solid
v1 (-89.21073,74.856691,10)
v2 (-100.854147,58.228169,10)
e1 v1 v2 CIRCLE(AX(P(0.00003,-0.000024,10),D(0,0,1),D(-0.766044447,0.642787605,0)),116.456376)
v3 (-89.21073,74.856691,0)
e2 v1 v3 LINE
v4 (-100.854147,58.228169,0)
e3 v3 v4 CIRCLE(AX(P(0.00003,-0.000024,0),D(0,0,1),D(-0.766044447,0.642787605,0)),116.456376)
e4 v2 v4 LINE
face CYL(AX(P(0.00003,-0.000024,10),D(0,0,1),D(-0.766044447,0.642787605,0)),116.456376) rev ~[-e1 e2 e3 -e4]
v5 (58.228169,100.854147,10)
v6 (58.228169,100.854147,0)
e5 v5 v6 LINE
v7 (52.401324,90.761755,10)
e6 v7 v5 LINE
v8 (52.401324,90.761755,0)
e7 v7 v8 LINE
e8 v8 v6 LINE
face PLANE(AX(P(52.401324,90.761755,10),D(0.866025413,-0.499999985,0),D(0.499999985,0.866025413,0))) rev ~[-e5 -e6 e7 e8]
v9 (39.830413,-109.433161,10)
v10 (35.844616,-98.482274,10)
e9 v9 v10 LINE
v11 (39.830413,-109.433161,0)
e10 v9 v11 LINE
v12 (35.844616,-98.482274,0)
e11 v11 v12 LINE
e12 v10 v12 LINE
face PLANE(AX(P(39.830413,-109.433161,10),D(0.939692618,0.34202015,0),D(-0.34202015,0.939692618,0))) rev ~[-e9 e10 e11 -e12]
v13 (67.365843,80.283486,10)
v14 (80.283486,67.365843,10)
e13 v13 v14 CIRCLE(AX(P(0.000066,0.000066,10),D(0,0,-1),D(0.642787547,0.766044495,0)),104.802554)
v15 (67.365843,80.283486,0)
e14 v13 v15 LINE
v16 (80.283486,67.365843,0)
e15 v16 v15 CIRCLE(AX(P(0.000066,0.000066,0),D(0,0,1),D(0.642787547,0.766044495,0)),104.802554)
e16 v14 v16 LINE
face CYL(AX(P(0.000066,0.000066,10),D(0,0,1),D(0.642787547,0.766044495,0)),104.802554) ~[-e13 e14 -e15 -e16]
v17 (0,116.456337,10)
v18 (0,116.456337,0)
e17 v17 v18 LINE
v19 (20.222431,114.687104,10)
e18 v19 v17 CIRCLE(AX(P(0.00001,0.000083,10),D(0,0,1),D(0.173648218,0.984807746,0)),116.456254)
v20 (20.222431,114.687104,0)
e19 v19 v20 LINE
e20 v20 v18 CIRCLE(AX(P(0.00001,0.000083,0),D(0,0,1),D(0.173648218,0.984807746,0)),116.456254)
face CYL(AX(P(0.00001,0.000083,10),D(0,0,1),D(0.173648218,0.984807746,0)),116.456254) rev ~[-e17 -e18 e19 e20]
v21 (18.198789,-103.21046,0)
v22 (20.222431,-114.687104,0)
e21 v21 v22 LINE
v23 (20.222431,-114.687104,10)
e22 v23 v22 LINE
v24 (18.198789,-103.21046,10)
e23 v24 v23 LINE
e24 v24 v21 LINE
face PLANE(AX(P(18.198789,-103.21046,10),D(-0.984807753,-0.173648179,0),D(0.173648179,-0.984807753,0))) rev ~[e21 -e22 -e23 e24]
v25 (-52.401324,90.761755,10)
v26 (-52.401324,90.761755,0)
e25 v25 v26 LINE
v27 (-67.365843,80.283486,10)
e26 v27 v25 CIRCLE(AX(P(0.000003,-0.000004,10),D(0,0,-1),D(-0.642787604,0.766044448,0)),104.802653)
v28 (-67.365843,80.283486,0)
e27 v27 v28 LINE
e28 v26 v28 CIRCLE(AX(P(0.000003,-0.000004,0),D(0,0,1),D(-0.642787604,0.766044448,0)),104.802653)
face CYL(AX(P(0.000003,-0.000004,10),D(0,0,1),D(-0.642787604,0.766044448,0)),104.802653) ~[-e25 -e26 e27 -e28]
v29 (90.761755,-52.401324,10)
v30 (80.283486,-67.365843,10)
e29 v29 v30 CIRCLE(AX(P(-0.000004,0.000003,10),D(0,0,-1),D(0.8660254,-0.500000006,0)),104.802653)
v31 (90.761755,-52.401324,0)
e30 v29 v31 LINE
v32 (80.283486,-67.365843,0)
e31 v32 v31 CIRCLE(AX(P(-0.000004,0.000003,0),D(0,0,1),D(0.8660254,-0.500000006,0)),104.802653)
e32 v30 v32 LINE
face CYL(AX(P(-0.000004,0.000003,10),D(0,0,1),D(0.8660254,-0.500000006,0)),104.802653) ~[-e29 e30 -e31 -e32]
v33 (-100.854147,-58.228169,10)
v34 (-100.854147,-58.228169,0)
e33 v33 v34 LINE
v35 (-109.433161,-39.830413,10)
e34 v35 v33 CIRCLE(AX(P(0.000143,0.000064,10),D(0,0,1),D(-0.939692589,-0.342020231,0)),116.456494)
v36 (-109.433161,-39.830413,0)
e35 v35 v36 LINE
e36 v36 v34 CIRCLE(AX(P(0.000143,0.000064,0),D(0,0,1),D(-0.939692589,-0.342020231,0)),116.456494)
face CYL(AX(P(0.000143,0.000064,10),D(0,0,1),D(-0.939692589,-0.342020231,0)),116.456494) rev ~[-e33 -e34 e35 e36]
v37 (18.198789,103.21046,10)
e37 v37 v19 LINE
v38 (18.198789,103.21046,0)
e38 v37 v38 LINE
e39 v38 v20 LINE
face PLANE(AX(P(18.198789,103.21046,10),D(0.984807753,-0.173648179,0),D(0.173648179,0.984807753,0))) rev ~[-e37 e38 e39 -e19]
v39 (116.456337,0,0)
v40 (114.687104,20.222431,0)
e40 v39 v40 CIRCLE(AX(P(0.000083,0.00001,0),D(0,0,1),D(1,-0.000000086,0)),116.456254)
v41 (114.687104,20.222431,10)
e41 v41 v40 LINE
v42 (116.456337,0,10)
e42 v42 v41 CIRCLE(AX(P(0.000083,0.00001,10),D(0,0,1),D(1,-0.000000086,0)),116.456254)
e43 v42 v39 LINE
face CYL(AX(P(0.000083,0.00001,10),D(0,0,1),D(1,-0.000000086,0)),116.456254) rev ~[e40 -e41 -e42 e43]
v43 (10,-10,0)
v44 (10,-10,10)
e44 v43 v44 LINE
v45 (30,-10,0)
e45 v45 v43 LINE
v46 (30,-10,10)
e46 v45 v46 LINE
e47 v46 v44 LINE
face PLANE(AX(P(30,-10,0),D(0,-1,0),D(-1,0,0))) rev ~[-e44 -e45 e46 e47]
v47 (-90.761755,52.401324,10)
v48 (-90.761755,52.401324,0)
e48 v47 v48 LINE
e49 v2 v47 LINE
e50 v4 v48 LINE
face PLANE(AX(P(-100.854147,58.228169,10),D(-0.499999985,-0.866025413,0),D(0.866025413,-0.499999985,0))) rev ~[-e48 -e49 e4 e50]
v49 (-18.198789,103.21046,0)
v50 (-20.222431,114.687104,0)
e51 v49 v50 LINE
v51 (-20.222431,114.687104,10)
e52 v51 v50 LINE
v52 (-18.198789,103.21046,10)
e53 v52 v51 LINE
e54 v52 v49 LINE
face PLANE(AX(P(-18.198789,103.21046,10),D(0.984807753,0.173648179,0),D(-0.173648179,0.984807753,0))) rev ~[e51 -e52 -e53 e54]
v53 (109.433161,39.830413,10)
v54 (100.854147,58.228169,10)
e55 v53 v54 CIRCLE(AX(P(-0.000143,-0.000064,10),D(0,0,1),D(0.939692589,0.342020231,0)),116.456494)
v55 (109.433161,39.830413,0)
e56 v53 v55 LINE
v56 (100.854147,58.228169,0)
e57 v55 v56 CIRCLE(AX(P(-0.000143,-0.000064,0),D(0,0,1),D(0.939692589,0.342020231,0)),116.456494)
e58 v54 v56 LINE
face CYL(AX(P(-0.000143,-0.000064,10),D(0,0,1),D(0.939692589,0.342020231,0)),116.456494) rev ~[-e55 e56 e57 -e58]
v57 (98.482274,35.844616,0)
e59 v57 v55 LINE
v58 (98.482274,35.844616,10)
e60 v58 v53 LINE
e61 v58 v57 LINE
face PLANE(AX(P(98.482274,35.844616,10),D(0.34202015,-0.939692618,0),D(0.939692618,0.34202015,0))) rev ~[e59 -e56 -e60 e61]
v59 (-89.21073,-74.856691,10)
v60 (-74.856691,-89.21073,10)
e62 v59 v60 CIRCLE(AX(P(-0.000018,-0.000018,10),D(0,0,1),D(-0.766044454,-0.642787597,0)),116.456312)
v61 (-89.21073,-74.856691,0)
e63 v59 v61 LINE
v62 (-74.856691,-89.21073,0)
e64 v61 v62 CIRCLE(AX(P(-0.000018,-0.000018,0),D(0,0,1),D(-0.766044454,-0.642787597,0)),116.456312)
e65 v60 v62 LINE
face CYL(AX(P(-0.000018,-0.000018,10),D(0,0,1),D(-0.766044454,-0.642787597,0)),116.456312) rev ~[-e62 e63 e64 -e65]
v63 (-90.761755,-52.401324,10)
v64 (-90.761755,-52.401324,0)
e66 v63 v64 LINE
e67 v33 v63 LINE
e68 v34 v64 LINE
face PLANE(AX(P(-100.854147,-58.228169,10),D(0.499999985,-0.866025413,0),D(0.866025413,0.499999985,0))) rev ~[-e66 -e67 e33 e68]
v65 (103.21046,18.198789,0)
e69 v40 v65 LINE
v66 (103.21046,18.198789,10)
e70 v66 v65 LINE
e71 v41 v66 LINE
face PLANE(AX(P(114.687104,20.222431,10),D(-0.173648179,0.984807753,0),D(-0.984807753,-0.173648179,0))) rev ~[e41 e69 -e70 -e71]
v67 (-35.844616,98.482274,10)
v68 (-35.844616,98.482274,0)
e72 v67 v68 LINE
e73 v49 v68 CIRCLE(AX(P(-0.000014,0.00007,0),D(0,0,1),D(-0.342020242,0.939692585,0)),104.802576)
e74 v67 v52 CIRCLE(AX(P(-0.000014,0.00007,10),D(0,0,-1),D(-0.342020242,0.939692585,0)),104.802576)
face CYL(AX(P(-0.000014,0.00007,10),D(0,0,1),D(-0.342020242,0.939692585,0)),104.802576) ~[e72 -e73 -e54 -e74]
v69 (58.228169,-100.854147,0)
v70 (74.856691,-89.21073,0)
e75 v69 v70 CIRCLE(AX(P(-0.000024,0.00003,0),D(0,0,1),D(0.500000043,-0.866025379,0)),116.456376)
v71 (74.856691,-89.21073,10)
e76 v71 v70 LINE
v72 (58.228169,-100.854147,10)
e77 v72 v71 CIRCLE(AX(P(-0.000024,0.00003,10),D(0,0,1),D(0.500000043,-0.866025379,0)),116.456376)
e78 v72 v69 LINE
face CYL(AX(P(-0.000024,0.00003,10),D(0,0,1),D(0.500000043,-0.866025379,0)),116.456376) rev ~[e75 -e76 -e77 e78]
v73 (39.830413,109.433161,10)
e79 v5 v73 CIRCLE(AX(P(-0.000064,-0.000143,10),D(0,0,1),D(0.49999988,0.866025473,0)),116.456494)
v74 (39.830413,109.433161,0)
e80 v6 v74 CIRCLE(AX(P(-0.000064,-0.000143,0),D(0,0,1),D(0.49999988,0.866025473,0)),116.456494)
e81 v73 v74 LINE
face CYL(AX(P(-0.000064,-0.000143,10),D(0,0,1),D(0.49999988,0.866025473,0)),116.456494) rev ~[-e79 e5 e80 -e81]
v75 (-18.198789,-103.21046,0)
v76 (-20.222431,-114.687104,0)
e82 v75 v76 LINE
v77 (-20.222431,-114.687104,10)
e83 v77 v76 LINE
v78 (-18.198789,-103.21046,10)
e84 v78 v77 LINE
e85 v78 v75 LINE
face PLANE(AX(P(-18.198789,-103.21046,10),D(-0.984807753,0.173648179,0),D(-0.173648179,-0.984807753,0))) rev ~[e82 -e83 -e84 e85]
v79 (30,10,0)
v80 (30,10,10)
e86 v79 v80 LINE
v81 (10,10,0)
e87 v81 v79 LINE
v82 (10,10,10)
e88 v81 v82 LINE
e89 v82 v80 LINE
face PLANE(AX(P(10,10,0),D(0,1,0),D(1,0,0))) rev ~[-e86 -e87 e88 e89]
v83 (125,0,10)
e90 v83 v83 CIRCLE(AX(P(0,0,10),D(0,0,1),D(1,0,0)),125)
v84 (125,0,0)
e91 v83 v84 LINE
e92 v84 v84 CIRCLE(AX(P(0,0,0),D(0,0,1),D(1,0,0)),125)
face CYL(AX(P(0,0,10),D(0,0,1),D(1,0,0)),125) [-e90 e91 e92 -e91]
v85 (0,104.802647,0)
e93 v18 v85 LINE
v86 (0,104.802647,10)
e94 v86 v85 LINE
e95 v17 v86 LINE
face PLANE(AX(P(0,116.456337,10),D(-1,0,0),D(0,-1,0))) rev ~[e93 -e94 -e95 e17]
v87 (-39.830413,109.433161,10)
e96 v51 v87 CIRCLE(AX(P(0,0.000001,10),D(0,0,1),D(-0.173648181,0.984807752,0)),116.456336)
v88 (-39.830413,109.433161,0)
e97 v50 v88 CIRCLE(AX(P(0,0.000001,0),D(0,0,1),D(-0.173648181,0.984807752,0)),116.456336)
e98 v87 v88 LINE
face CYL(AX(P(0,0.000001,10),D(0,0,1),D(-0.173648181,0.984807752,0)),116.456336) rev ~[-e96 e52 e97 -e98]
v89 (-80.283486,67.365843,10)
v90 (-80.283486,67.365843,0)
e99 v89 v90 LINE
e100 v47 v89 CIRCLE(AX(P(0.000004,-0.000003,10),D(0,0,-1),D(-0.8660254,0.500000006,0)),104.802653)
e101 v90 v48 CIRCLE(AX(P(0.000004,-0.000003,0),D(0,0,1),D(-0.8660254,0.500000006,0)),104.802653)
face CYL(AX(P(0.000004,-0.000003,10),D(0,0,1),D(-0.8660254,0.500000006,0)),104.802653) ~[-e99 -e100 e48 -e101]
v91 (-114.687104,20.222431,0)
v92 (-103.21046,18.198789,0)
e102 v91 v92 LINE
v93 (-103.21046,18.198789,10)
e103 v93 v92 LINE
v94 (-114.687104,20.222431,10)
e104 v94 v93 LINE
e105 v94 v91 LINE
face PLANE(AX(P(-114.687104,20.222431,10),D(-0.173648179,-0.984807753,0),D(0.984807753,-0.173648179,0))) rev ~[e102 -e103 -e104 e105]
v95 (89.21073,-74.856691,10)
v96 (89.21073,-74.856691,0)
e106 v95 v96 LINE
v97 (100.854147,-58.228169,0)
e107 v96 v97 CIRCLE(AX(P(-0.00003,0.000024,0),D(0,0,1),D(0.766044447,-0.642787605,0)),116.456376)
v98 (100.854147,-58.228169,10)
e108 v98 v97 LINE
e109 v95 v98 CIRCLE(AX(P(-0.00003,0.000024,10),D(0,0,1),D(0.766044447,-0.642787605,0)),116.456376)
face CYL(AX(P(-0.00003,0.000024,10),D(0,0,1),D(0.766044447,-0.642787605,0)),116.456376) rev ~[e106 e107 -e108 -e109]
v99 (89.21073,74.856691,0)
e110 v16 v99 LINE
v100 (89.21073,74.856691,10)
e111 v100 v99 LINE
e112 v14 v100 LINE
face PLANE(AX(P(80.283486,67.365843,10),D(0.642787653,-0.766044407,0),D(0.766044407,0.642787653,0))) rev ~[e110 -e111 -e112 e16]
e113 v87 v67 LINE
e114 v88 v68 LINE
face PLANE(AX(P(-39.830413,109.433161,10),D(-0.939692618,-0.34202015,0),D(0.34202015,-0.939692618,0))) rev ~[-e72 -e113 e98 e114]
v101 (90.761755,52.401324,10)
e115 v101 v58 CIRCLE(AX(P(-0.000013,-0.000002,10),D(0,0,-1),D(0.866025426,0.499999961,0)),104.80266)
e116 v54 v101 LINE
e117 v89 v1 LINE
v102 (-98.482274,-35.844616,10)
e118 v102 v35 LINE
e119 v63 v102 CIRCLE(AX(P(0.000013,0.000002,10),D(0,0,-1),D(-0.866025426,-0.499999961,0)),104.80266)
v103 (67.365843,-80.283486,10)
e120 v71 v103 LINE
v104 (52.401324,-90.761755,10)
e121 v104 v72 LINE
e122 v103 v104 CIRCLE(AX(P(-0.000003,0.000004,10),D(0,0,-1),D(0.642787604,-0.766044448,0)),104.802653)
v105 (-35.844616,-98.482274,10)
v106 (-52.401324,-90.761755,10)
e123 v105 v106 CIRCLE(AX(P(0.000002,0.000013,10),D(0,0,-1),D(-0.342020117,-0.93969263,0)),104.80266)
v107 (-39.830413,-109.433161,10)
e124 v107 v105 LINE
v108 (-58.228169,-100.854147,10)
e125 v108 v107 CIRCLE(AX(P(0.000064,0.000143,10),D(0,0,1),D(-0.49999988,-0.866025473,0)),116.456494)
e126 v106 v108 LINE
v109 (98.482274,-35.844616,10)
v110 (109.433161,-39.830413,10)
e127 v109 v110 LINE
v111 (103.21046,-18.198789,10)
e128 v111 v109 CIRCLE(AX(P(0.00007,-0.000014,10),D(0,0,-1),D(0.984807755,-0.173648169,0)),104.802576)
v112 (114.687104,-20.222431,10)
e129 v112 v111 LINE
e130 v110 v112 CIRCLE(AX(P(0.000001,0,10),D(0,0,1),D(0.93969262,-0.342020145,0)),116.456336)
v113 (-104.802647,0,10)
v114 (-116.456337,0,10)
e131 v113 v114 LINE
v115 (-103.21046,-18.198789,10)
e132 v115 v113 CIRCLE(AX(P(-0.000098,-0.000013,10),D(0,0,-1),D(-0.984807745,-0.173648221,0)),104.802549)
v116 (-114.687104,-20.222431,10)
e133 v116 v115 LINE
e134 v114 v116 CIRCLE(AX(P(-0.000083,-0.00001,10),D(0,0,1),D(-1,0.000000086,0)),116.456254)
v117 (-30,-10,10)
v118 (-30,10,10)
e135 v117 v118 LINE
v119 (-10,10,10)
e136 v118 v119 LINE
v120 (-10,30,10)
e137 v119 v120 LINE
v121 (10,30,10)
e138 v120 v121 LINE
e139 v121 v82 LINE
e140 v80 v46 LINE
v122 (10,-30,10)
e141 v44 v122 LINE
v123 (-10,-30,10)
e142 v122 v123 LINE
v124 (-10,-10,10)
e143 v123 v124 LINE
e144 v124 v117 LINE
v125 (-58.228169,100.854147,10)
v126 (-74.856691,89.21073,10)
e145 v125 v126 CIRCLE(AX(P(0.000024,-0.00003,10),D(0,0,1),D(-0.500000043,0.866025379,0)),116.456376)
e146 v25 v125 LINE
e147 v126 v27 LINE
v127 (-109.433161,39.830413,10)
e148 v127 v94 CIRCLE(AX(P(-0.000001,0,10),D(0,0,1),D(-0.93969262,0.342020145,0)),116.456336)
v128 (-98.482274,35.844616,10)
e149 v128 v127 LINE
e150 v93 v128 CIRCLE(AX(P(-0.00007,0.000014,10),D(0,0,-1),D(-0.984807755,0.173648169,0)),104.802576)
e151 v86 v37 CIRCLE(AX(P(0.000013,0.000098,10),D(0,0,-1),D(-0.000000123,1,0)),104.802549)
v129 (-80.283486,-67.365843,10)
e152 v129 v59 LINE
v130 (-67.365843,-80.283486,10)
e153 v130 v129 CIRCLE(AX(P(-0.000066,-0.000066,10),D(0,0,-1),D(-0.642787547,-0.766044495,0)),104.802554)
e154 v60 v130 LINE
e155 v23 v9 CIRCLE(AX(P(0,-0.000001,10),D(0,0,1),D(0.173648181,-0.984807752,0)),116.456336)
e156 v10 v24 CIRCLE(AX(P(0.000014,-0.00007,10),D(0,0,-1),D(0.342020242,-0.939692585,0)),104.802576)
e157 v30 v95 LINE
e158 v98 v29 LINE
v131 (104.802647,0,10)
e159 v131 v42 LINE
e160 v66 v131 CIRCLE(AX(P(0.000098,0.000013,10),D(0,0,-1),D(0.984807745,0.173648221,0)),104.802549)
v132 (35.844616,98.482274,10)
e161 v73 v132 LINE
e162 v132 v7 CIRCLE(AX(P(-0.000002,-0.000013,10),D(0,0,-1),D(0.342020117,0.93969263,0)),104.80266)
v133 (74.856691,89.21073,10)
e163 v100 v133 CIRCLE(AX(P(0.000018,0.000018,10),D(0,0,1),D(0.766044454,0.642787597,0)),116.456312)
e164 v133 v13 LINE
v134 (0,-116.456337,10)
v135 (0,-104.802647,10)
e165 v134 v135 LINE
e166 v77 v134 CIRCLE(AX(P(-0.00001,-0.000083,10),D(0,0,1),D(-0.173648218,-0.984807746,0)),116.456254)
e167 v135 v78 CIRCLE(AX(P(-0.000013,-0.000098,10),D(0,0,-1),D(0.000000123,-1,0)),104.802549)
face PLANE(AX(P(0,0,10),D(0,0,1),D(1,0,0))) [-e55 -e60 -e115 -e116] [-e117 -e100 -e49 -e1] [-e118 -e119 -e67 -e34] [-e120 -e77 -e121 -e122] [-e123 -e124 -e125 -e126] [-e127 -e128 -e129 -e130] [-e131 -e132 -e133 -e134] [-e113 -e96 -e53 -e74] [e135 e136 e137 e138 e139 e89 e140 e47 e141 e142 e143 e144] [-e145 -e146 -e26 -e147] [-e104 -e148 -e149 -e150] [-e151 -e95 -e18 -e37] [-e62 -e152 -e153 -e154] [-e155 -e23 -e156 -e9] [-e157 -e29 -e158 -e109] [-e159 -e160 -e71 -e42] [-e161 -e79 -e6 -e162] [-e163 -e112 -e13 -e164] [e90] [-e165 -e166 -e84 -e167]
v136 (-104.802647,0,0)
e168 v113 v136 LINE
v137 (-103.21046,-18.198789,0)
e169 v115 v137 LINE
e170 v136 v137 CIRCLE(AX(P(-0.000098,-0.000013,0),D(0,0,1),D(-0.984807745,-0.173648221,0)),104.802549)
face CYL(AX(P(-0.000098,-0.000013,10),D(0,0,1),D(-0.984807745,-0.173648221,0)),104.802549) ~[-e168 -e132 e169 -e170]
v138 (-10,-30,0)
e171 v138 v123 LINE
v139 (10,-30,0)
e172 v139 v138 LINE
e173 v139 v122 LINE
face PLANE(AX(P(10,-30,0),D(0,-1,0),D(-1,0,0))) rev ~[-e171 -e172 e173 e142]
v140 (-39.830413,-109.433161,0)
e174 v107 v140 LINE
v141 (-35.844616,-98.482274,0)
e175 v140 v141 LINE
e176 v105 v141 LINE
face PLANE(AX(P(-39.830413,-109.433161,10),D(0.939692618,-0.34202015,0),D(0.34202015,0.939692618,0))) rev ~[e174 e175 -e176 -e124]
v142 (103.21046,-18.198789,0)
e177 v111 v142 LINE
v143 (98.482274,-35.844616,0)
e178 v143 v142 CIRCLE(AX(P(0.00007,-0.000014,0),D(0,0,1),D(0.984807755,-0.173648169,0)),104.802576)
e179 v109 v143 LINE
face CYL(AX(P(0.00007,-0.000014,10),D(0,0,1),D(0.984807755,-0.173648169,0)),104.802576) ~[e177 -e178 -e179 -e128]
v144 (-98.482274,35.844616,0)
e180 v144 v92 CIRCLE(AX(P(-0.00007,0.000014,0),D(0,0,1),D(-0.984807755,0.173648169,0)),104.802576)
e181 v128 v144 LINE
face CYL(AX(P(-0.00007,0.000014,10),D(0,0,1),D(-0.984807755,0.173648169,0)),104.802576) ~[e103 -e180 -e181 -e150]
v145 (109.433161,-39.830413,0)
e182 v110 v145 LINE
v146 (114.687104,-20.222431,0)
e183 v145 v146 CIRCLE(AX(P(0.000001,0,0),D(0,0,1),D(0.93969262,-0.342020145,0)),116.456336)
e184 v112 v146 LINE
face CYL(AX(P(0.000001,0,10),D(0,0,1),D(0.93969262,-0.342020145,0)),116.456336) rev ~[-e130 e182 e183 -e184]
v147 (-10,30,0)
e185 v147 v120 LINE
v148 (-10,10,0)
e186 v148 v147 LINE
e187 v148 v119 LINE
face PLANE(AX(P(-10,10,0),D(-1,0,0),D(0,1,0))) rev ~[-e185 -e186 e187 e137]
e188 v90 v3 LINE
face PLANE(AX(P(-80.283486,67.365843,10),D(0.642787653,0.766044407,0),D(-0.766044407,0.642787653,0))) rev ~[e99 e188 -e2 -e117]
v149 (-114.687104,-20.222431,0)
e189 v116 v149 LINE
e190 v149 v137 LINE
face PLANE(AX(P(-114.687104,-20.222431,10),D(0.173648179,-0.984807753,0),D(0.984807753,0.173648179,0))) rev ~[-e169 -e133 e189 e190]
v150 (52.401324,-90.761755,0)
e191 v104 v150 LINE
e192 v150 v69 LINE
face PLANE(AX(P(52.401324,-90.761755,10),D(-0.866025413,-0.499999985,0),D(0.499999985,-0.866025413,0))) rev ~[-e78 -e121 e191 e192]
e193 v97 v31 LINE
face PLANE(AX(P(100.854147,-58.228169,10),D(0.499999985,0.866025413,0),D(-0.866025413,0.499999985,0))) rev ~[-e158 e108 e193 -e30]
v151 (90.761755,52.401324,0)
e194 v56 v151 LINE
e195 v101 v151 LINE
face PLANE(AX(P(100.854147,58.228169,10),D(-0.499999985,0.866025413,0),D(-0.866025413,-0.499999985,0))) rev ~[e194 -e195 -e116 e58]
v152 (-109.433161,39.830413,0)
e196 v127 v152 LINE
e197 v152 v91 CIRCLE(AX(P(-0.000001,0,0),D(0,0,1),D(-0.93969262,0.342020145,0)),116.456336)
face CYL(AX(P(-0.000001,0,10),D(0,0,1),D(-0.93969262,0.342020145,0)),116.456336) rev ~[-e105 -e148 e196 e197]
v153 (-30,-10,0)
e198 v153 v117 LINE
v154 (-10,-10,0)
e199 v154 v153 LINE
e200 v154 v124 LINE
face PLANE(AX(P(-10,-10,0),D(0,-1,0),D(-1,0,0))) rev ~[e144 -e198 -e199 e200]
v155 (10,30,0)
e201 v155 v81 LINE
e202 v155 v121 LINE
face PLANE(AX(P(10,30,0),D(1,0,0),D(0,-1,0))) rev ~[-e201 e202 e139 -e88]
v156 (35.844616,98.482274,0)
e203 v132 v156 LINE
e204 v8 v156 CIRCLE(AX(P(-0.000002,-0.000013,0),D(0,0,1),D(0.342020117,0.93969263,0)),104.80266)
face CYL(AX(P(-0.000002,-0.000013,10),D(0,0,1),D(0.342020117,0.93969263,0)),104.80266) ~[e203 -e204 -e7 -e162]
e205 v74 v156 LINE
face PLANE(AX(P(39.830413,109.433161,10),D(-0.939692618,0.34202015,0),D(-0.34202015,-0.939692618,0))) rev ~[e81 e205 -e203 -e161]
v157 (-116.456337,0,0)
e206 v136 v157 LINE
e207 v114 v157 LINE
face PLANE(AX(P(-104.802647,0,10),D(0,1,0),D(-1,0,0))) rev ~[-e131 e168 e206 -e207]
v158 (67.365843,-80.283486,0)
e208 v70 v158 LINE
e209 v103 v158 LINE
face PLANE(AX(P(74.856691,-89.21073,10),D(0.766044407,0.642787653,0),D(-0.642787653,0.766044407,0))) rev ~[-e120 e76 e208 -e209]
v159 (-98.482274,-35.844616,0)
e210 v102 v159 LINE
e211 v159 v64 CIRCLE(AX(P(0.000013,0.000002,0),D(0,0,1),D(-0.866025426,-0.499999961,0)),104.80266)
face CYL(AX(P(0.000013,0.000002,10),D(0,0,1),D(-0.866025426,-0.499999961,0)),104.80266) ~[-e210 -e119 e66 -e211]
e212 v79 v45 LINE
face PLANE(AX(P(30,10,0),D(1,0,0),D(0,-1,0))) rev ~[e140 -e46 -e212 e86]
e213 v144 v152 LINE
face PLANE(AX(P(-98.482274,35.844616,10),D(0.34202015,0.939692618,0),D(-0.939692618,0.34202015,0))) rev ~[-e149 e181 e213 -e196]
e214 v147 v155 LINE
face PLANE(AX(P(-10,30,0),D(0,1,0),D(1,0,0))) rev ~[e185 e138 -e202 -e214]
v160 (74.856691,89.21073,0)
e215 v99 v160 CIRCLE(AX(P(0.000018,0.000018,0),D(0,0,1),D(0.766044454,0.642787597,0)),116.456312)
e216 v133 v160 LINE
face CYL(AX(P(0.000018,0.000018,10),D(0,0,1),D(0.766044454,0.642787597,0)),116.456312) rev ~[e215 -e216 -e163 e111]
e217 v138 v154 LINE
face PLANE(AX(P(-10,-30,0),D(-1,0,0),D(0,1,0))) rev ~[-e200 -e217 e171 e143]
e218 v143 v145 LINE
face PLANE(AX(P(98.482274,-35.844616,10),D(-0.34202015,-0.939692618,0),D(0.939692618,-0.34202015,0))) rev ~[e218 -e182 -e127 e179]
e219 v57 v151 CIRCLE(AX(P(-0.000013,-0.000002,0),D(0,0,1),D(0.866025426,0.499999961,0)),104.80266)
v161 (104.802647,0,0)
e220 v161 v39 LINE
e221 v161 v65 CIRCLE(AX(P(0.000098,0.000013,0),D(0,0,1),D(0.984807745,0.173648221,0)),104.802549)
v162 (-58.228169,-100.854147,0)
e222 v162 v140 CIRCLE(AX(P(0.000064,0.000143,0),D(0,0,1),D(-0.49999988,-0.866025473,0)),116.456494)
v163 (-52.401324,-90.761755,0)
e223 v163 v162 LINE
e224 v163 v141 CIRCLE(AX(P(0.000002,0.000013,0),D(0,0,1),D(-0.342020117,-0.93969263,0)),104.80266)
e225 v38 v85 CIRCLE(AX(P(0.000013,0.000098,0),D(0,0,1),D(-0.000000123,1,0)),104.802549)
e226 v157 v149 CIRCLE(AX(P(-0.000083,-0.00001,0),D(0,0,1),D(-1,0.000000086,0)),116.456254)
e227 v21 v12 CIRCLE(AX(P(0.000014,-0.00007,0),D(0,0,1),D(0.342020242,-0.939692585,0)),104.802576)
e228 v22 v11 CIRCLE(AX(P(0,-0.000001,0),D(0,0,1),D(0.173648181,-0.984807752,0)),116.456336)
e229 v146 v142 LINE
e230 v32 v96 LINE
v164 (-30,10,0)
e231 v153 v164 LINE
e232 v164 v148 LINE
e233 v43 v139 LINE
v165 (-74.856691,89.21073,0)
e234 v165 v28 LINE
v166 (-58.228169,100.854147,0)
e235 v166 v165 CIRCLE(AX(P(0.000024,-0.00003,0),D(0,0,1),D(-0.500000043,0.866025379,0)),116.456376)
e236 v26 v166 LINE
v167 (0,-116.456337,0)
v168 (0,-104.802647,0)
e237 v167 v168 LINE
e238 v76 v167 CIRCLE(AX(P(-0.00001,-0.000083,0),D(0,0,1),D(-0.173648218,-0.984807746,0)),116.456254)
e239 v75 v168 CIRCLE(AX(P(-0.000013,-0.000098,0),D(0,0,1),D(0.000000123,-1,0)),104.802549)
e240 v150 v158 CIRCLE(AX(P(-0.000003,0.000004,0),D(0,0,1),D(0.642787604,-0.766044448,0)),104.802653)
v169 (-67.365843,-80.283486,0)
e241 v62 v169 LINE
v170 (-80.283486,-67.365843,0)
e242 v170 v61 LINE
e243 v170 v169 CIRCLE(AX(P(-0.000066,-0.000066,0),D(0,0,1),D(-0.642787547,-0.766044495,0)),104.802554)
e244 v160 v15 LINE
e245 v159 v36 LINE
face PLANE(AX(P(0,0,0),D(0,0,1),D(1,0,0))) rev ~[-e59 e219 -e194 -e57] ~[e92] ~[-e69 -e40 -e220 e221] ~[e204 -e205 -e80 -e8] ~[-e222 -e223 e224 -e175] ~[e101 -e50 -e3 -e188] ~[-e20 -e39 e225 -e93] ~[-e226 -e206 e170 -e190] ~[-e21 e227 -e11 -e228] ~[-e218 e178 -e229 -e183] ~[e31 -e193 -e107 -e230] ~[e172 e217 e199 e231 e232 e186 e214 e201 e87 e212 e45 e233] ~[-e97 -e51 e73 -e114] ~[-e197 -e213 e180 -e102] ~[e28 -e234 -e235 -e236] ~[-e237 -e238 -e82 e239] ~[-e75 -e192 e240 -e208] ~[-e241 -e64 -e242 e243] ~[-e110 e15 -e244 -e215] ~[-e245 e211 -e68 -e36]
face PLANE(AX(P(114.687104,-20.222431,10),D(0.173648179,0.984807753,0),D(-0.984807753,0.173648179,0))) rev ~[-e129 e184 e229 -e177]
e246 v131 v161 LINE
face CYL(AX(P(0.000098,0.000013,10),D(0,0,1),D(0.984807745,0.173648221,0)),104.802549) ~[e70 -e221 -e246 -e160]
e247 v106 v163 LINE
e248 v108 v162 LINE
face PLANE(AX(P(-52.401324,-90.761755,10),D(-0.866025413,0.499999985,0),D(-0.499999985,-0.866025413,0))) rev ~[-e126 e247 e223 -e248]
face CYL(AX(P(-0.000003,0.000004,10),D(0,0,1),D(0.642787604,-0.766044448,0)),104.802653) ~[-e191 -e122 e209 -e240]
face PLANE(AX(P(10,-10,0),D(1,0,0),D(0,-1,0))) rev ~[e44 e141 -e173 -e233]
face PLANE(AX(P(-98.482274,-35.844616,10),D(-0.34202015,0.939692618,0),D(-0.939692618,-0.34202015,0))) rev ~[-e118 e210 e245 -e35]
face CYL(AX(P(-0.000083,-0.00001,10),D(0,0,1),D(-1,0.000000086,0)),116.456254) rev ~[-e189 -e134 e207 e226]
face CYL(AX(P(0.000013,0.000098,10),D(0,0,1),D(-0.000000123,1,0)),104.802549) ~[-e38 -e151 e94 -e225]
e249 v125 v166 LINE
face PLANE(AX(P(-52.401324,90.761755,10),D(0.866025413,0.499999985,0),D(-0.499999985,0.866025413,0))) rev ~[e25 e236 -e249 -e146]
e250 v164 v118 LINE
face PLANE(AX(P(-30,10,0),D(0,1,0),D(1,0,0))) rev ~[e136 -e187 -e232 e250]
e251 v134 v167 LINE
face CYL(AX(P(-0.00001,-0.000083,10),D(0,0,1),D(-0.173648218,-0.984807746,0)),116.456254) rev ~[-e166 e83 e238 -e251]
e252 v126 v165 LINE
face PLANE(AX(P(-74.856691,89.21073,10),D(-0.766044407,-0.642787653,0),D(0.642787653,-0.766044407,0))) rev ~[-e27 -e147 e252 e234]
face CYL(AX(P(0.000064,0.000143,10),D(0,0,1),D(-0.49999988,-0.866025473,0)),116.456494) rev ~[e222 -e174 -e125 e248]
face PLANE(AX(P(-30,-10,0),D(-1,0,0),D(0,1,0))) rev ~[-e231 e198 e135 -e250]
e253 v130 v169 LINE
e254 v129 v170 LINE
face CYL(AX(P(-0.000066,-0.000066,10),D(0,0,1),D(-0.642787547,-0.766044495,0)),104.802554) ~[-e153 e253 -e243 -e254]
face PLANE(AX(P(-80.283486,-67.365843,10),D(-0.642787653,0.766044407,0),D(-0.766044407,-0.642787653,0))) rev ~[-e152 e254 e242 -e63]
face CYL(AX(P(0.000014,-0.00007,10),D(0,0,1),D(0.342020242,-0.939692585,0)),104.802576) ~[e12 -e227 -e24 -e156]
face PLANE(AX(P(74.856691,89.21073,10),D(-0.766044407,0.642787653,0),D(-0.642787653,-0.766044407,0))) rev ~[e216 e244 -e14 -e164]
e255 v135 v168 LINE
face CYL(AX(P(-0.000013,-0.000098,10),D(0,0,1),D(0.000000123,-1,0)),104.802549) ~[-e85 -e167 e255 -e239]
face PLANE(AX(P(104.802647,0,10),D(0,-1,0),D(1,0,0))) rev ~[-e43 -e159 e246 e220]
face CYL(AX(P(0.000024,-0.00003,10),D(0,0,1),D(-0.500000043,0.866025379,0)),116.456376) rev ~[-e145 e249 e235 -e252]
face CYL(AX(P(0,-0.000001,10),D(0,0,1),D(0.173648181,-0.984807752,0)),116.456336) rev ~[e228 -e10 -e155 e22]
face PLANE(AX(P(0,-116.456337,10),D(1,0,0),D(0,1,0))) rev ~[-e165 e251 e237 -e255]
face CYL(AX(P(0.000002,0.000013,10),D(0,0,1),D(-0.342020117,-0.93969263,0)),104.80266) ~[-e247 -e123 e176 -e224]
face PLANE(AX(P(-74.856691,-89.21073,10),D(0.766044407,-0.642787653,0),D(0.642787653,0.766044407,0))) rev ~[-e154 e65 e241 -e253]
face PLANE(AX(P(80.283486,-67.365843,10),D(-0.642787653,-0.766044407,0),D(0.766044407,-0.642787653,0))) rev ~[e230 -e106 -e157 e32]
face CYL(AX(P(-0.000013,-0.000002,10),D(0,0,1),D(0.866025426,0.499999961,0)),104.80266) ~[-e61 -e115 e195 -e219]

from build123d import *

# Parameters (mm, degrees)
F0_R     = 50
F1_DEPTH = 10
F2_R     = 125
F2_R_2   = 40.44952
F3_DEPTH = 10
F5_DEPTH = 25


with BuildPart() as f1:
    # F0 (on Top) → F1 (new body)
    with BuildSketch(Plane.XY):
        Circle(F0_R)
        Polygon((-10, 30), (0, 30), (10, 30), (10, 10), (30, 10), (30, 0), (30, -10), (10, -10), (10, -30), (0, -30), (-10, -30), (-10, -10), (-30, -10), (-30, 0), (-30, 10), (-10, 10), align=None, mode=Mode.SUBTRACT)
    extrude(amount=F1_DEPTH)

    # F2 (on face) → F3 (join)
    with BuildSketch(Plane.XY.offset(10)):
        Circle(F2_R)
        Circle(F2_R_2, mode=Mode.SUBTRACT)
    extrude(amount=-F3_DEPTH)

    # F4 (on face) → F5 (cut)
    with BuildSketch(Plane.XY.offset(10)):
        with BuildLine():
            Line((0, 116.456337), (0, 104.802647))
            ThreePointArc((0, 104.802647), (9.134153, 104.403842), (18.198789, 103.21046))
            Line((18.198789, 103.21046), (20.222431, 114.687104))
            ThreePointArc((20.222431, 114.687104), (10.149839, 116.013186), (0, 116.456337))
        make_face()
        with BuildLine():
            ThreePointArc((-35.844616, 98.482274), (-27.124921, 101.231584), (-18.198789, 103.21046))
            Line((-18.198789, 103.21046), (-20.222431, 114.687104))
            ThreePointArc((-20.222431, 114.687104), (-30.141118, 112.488184), (-39.830413, 109.433161))
            Line((-39.830413, 109.433161), (-35.844616, 98.482274))
        make_face()
        with BuildLine():
            ThreePointArc((-67.365843, 80.283486), (-60.112329, 85.849303), (-52.401324, 90.761755))
            Line((-52.401324, 90.761755), (-58.228169, 100.854147))
            ThreePointArc((-58.228169, 100.854147), (-66.796611, 95.395447), (-74.856691, 89.21073))
            Line((-74.856691, 89.21073), (-67.365843, 80.283486))
        make_face()
        with BuildLine():
            ThreePointArc((-90.761755, 52.401324), (-85.849303, 60.112329), (-80.283486, 67.365843))
            Line((-80.283486, 67.365843), (-89.21073, 74.856691))
            ThreePointArc((-89.21073, 74.856691), (-95.395447, 66.796611), (-100.854147, 58.228169))
            Line((-100.854147, 58.228169), (-90.761755, 52.401324))
        make_face()
        with BuildLine():
            ThreePointArc((-103.21046, 18.198789), (-101.231584, 27.124921), (-98.482274, 35.844616))
            Line((-98.482274, 35.844616), (-109.433161, 39.830413))
            ThreePointArc((-109.433161, 39.830413), (-112.488184, 30.141118), (-114.687104, 20.222431))
            Line((-114.687104, 20.222431), (-103.21046, 18.198789))
        make_face()
        with BuildLine():
            ThreePointArc((-103.21046, -18.198789), (-104.403842, -9.134153), (-104.802647, 0))
            Line((-104.802647, 0), (-116.456337, 0))
            ThreePointArc((-116.456337, 0), (-116.013186, -10.149839), (-114.687104, -20.222431))
            Line((-114.687104, -20.222431), (-103.21046, -18.198789))
        make_face()
        with BuildLine():
            ThreePointArc((-90.761755, -52.401324), (-94.983455, -44.291513), (-98.482274, -35.844616))
            Line((-98.482274, -35.844616), (-109.433161, -39.830413))
            ThreePointArc((-109.433161, -39.830413), (-105.545285, -49.216575), (-100.854147, -58.228169))
            Line((-100.854147, -58.228169), (-90.761755, -52.401324))
        make_face()
        with BuildLine():
            ThreePointArc((-67.365843, -80.283486), (-74.106663, -74.106663), (-80.283486, -67.365843))
            Line((-80.283486, -67.365843), (-89.21073, -74.856691))
            ThreePointArc((-89.21073, -74.856691), (-82.347066, -82.347066), (-74.856691, -89.21073))
            Line((-74.856691, -89.21073), (-67.365843, -80.283486))
        make_face()
        with BuildLine():
            ThreePointArc((-35.844616, -98.482274), (-44.291513, -94.983455), (-52.401324, -90.761755))
            Line((-52.401324, -90.761755), (-58.228169, -100.854147))
            ThreePointArc((-58.228169, -100.854147), (-49.216575, -105.545285), (-39.830413, -109.433161))
            Line((-39.830413, -109.433161), (-35.844616, -98.482274))
        make_face()
        with BuildLine():
            ThreePointArc((0, -104.802647), (-9.134153, -104.403842), (-18.198789, -103.21046))
            Line((-18.198789, -103.21046), (-20.222431, -114.687104))
            ThreePointArc((-20.222431, -114.687104), (-10.149839, -116.013186), (0, -116.456337))
            Line((0, -116.456337), (0, -104.802647))
        make_face()
        with BuildLine():
            ThreePointArc((35.844616, -98.482274), (27.124921, -101.231584), (18.198789, -103.21046))
            Line((18.198789, -103.21046), (20.222431, -114.687104))
            ThreePointArc((20.222431, -114.687104), (30.141118, -112.488184), (39.830413, -109.433161))
            Line((39.830413, -109.433161), (35.844616, -98.482274))
        make_face()
        with BuildLine():
            ThreePointArc((67.365843, -80.283486), (60.112329, -85.849303), (52.401324, -90.761755))
            Line((52.401324, -90.761755), (58.228169, -100.854147))
            ThreePointArc((58.228169, -100.854147), (66.796611, -95.395447), (74.856691, -89.21073))
            Line((74.856691, -89.21073), (67.365843, -80.283486))
        make_face()
        with BuildLine():
            ThreePointArc((90.761755, -52.401324), (85.849303, -60.112329), (80.283486, -67.365843))
            Line((80.283486, -67.365843), (89.21073, -74.856691))
            ThreePointArc((89.21073, -74.856691), (95.395447, -66.796611), (100.854147, -58.228169))
            Line((100.854147, -58.228169), (90.761755, -52.401324))
        make_face()
        with BuildLine():
            ThreePointArc((103.21046, -18.198789), (101.231584, -27.124921), (98.482274, -35.844616))
            Line((98.482274, -35.844616), (109.433161, -39.830413))
            ThreePointArc((109.433161, -39.830413), (112.488184, -30.141118), (114.687104, -20.222431))
            Line((114.687104, -20.222431), (103.21046, -18.198789))
        make_face()
        with BuildLine():
            ThreePointArc((103.21046, 18.198789), (104.403842, 9.134153), (104.802647, 0))
            Line((104.802647, 0), (116.456337, 0))
            ThreePointArc((116.456337, 0), (116.013186, 10.149839), (114.687104, 20.222431))
            Line((114.687104, 20.222431), (103.21046, 18.198789))
        make_face()
        with BuildLine():
            ThreePointArc((90.761755, 52.401324), (94.983455, 44.291513), (98.482274, 35.844616))
            Line((98.482274, 35.844616), (109.433161, 39.830413))
            ThreePointArc((109.433161, 39.830413), (105.545285, 49.216575), (100.854147, 58.228169))
            Line((100.854147, 58.228169), (90.761755, 52.401324))
        make_face()
        with BuildLine():
            ThreePointArc((67.365843, 80.283486), (74.106663, 74.106663), (80.283486, 67.365843))
            Line((80.283486, 67.365843), (89.21073, 74.856691))
            ThreePointArc((89.21073, 74.856691), (82.347066, 82.347066), (74.856691, 89.21073))
            Line((74.856691, 89.21073), (67.365843, 80.283486))
        make_face()
        with BuildLine():
            ThreePointArc((35.844616, 98.482274), (44.291513, 94.983455), (52.401324, 90.761755))
            Line((52.401324, 90.761755), (58.228169, 100.854147))
            ThreePointArc((58.228169, 100.854147), (49.216575, 105.545285), (39.830413, 109.433161))
            Line((39.830413, 109.433161), (35.844616, 98.482274))
        make_face()
    extrude(amount=-F5_DEPTH, mode=Mode.SUBTRACT)


solid = f1.part
